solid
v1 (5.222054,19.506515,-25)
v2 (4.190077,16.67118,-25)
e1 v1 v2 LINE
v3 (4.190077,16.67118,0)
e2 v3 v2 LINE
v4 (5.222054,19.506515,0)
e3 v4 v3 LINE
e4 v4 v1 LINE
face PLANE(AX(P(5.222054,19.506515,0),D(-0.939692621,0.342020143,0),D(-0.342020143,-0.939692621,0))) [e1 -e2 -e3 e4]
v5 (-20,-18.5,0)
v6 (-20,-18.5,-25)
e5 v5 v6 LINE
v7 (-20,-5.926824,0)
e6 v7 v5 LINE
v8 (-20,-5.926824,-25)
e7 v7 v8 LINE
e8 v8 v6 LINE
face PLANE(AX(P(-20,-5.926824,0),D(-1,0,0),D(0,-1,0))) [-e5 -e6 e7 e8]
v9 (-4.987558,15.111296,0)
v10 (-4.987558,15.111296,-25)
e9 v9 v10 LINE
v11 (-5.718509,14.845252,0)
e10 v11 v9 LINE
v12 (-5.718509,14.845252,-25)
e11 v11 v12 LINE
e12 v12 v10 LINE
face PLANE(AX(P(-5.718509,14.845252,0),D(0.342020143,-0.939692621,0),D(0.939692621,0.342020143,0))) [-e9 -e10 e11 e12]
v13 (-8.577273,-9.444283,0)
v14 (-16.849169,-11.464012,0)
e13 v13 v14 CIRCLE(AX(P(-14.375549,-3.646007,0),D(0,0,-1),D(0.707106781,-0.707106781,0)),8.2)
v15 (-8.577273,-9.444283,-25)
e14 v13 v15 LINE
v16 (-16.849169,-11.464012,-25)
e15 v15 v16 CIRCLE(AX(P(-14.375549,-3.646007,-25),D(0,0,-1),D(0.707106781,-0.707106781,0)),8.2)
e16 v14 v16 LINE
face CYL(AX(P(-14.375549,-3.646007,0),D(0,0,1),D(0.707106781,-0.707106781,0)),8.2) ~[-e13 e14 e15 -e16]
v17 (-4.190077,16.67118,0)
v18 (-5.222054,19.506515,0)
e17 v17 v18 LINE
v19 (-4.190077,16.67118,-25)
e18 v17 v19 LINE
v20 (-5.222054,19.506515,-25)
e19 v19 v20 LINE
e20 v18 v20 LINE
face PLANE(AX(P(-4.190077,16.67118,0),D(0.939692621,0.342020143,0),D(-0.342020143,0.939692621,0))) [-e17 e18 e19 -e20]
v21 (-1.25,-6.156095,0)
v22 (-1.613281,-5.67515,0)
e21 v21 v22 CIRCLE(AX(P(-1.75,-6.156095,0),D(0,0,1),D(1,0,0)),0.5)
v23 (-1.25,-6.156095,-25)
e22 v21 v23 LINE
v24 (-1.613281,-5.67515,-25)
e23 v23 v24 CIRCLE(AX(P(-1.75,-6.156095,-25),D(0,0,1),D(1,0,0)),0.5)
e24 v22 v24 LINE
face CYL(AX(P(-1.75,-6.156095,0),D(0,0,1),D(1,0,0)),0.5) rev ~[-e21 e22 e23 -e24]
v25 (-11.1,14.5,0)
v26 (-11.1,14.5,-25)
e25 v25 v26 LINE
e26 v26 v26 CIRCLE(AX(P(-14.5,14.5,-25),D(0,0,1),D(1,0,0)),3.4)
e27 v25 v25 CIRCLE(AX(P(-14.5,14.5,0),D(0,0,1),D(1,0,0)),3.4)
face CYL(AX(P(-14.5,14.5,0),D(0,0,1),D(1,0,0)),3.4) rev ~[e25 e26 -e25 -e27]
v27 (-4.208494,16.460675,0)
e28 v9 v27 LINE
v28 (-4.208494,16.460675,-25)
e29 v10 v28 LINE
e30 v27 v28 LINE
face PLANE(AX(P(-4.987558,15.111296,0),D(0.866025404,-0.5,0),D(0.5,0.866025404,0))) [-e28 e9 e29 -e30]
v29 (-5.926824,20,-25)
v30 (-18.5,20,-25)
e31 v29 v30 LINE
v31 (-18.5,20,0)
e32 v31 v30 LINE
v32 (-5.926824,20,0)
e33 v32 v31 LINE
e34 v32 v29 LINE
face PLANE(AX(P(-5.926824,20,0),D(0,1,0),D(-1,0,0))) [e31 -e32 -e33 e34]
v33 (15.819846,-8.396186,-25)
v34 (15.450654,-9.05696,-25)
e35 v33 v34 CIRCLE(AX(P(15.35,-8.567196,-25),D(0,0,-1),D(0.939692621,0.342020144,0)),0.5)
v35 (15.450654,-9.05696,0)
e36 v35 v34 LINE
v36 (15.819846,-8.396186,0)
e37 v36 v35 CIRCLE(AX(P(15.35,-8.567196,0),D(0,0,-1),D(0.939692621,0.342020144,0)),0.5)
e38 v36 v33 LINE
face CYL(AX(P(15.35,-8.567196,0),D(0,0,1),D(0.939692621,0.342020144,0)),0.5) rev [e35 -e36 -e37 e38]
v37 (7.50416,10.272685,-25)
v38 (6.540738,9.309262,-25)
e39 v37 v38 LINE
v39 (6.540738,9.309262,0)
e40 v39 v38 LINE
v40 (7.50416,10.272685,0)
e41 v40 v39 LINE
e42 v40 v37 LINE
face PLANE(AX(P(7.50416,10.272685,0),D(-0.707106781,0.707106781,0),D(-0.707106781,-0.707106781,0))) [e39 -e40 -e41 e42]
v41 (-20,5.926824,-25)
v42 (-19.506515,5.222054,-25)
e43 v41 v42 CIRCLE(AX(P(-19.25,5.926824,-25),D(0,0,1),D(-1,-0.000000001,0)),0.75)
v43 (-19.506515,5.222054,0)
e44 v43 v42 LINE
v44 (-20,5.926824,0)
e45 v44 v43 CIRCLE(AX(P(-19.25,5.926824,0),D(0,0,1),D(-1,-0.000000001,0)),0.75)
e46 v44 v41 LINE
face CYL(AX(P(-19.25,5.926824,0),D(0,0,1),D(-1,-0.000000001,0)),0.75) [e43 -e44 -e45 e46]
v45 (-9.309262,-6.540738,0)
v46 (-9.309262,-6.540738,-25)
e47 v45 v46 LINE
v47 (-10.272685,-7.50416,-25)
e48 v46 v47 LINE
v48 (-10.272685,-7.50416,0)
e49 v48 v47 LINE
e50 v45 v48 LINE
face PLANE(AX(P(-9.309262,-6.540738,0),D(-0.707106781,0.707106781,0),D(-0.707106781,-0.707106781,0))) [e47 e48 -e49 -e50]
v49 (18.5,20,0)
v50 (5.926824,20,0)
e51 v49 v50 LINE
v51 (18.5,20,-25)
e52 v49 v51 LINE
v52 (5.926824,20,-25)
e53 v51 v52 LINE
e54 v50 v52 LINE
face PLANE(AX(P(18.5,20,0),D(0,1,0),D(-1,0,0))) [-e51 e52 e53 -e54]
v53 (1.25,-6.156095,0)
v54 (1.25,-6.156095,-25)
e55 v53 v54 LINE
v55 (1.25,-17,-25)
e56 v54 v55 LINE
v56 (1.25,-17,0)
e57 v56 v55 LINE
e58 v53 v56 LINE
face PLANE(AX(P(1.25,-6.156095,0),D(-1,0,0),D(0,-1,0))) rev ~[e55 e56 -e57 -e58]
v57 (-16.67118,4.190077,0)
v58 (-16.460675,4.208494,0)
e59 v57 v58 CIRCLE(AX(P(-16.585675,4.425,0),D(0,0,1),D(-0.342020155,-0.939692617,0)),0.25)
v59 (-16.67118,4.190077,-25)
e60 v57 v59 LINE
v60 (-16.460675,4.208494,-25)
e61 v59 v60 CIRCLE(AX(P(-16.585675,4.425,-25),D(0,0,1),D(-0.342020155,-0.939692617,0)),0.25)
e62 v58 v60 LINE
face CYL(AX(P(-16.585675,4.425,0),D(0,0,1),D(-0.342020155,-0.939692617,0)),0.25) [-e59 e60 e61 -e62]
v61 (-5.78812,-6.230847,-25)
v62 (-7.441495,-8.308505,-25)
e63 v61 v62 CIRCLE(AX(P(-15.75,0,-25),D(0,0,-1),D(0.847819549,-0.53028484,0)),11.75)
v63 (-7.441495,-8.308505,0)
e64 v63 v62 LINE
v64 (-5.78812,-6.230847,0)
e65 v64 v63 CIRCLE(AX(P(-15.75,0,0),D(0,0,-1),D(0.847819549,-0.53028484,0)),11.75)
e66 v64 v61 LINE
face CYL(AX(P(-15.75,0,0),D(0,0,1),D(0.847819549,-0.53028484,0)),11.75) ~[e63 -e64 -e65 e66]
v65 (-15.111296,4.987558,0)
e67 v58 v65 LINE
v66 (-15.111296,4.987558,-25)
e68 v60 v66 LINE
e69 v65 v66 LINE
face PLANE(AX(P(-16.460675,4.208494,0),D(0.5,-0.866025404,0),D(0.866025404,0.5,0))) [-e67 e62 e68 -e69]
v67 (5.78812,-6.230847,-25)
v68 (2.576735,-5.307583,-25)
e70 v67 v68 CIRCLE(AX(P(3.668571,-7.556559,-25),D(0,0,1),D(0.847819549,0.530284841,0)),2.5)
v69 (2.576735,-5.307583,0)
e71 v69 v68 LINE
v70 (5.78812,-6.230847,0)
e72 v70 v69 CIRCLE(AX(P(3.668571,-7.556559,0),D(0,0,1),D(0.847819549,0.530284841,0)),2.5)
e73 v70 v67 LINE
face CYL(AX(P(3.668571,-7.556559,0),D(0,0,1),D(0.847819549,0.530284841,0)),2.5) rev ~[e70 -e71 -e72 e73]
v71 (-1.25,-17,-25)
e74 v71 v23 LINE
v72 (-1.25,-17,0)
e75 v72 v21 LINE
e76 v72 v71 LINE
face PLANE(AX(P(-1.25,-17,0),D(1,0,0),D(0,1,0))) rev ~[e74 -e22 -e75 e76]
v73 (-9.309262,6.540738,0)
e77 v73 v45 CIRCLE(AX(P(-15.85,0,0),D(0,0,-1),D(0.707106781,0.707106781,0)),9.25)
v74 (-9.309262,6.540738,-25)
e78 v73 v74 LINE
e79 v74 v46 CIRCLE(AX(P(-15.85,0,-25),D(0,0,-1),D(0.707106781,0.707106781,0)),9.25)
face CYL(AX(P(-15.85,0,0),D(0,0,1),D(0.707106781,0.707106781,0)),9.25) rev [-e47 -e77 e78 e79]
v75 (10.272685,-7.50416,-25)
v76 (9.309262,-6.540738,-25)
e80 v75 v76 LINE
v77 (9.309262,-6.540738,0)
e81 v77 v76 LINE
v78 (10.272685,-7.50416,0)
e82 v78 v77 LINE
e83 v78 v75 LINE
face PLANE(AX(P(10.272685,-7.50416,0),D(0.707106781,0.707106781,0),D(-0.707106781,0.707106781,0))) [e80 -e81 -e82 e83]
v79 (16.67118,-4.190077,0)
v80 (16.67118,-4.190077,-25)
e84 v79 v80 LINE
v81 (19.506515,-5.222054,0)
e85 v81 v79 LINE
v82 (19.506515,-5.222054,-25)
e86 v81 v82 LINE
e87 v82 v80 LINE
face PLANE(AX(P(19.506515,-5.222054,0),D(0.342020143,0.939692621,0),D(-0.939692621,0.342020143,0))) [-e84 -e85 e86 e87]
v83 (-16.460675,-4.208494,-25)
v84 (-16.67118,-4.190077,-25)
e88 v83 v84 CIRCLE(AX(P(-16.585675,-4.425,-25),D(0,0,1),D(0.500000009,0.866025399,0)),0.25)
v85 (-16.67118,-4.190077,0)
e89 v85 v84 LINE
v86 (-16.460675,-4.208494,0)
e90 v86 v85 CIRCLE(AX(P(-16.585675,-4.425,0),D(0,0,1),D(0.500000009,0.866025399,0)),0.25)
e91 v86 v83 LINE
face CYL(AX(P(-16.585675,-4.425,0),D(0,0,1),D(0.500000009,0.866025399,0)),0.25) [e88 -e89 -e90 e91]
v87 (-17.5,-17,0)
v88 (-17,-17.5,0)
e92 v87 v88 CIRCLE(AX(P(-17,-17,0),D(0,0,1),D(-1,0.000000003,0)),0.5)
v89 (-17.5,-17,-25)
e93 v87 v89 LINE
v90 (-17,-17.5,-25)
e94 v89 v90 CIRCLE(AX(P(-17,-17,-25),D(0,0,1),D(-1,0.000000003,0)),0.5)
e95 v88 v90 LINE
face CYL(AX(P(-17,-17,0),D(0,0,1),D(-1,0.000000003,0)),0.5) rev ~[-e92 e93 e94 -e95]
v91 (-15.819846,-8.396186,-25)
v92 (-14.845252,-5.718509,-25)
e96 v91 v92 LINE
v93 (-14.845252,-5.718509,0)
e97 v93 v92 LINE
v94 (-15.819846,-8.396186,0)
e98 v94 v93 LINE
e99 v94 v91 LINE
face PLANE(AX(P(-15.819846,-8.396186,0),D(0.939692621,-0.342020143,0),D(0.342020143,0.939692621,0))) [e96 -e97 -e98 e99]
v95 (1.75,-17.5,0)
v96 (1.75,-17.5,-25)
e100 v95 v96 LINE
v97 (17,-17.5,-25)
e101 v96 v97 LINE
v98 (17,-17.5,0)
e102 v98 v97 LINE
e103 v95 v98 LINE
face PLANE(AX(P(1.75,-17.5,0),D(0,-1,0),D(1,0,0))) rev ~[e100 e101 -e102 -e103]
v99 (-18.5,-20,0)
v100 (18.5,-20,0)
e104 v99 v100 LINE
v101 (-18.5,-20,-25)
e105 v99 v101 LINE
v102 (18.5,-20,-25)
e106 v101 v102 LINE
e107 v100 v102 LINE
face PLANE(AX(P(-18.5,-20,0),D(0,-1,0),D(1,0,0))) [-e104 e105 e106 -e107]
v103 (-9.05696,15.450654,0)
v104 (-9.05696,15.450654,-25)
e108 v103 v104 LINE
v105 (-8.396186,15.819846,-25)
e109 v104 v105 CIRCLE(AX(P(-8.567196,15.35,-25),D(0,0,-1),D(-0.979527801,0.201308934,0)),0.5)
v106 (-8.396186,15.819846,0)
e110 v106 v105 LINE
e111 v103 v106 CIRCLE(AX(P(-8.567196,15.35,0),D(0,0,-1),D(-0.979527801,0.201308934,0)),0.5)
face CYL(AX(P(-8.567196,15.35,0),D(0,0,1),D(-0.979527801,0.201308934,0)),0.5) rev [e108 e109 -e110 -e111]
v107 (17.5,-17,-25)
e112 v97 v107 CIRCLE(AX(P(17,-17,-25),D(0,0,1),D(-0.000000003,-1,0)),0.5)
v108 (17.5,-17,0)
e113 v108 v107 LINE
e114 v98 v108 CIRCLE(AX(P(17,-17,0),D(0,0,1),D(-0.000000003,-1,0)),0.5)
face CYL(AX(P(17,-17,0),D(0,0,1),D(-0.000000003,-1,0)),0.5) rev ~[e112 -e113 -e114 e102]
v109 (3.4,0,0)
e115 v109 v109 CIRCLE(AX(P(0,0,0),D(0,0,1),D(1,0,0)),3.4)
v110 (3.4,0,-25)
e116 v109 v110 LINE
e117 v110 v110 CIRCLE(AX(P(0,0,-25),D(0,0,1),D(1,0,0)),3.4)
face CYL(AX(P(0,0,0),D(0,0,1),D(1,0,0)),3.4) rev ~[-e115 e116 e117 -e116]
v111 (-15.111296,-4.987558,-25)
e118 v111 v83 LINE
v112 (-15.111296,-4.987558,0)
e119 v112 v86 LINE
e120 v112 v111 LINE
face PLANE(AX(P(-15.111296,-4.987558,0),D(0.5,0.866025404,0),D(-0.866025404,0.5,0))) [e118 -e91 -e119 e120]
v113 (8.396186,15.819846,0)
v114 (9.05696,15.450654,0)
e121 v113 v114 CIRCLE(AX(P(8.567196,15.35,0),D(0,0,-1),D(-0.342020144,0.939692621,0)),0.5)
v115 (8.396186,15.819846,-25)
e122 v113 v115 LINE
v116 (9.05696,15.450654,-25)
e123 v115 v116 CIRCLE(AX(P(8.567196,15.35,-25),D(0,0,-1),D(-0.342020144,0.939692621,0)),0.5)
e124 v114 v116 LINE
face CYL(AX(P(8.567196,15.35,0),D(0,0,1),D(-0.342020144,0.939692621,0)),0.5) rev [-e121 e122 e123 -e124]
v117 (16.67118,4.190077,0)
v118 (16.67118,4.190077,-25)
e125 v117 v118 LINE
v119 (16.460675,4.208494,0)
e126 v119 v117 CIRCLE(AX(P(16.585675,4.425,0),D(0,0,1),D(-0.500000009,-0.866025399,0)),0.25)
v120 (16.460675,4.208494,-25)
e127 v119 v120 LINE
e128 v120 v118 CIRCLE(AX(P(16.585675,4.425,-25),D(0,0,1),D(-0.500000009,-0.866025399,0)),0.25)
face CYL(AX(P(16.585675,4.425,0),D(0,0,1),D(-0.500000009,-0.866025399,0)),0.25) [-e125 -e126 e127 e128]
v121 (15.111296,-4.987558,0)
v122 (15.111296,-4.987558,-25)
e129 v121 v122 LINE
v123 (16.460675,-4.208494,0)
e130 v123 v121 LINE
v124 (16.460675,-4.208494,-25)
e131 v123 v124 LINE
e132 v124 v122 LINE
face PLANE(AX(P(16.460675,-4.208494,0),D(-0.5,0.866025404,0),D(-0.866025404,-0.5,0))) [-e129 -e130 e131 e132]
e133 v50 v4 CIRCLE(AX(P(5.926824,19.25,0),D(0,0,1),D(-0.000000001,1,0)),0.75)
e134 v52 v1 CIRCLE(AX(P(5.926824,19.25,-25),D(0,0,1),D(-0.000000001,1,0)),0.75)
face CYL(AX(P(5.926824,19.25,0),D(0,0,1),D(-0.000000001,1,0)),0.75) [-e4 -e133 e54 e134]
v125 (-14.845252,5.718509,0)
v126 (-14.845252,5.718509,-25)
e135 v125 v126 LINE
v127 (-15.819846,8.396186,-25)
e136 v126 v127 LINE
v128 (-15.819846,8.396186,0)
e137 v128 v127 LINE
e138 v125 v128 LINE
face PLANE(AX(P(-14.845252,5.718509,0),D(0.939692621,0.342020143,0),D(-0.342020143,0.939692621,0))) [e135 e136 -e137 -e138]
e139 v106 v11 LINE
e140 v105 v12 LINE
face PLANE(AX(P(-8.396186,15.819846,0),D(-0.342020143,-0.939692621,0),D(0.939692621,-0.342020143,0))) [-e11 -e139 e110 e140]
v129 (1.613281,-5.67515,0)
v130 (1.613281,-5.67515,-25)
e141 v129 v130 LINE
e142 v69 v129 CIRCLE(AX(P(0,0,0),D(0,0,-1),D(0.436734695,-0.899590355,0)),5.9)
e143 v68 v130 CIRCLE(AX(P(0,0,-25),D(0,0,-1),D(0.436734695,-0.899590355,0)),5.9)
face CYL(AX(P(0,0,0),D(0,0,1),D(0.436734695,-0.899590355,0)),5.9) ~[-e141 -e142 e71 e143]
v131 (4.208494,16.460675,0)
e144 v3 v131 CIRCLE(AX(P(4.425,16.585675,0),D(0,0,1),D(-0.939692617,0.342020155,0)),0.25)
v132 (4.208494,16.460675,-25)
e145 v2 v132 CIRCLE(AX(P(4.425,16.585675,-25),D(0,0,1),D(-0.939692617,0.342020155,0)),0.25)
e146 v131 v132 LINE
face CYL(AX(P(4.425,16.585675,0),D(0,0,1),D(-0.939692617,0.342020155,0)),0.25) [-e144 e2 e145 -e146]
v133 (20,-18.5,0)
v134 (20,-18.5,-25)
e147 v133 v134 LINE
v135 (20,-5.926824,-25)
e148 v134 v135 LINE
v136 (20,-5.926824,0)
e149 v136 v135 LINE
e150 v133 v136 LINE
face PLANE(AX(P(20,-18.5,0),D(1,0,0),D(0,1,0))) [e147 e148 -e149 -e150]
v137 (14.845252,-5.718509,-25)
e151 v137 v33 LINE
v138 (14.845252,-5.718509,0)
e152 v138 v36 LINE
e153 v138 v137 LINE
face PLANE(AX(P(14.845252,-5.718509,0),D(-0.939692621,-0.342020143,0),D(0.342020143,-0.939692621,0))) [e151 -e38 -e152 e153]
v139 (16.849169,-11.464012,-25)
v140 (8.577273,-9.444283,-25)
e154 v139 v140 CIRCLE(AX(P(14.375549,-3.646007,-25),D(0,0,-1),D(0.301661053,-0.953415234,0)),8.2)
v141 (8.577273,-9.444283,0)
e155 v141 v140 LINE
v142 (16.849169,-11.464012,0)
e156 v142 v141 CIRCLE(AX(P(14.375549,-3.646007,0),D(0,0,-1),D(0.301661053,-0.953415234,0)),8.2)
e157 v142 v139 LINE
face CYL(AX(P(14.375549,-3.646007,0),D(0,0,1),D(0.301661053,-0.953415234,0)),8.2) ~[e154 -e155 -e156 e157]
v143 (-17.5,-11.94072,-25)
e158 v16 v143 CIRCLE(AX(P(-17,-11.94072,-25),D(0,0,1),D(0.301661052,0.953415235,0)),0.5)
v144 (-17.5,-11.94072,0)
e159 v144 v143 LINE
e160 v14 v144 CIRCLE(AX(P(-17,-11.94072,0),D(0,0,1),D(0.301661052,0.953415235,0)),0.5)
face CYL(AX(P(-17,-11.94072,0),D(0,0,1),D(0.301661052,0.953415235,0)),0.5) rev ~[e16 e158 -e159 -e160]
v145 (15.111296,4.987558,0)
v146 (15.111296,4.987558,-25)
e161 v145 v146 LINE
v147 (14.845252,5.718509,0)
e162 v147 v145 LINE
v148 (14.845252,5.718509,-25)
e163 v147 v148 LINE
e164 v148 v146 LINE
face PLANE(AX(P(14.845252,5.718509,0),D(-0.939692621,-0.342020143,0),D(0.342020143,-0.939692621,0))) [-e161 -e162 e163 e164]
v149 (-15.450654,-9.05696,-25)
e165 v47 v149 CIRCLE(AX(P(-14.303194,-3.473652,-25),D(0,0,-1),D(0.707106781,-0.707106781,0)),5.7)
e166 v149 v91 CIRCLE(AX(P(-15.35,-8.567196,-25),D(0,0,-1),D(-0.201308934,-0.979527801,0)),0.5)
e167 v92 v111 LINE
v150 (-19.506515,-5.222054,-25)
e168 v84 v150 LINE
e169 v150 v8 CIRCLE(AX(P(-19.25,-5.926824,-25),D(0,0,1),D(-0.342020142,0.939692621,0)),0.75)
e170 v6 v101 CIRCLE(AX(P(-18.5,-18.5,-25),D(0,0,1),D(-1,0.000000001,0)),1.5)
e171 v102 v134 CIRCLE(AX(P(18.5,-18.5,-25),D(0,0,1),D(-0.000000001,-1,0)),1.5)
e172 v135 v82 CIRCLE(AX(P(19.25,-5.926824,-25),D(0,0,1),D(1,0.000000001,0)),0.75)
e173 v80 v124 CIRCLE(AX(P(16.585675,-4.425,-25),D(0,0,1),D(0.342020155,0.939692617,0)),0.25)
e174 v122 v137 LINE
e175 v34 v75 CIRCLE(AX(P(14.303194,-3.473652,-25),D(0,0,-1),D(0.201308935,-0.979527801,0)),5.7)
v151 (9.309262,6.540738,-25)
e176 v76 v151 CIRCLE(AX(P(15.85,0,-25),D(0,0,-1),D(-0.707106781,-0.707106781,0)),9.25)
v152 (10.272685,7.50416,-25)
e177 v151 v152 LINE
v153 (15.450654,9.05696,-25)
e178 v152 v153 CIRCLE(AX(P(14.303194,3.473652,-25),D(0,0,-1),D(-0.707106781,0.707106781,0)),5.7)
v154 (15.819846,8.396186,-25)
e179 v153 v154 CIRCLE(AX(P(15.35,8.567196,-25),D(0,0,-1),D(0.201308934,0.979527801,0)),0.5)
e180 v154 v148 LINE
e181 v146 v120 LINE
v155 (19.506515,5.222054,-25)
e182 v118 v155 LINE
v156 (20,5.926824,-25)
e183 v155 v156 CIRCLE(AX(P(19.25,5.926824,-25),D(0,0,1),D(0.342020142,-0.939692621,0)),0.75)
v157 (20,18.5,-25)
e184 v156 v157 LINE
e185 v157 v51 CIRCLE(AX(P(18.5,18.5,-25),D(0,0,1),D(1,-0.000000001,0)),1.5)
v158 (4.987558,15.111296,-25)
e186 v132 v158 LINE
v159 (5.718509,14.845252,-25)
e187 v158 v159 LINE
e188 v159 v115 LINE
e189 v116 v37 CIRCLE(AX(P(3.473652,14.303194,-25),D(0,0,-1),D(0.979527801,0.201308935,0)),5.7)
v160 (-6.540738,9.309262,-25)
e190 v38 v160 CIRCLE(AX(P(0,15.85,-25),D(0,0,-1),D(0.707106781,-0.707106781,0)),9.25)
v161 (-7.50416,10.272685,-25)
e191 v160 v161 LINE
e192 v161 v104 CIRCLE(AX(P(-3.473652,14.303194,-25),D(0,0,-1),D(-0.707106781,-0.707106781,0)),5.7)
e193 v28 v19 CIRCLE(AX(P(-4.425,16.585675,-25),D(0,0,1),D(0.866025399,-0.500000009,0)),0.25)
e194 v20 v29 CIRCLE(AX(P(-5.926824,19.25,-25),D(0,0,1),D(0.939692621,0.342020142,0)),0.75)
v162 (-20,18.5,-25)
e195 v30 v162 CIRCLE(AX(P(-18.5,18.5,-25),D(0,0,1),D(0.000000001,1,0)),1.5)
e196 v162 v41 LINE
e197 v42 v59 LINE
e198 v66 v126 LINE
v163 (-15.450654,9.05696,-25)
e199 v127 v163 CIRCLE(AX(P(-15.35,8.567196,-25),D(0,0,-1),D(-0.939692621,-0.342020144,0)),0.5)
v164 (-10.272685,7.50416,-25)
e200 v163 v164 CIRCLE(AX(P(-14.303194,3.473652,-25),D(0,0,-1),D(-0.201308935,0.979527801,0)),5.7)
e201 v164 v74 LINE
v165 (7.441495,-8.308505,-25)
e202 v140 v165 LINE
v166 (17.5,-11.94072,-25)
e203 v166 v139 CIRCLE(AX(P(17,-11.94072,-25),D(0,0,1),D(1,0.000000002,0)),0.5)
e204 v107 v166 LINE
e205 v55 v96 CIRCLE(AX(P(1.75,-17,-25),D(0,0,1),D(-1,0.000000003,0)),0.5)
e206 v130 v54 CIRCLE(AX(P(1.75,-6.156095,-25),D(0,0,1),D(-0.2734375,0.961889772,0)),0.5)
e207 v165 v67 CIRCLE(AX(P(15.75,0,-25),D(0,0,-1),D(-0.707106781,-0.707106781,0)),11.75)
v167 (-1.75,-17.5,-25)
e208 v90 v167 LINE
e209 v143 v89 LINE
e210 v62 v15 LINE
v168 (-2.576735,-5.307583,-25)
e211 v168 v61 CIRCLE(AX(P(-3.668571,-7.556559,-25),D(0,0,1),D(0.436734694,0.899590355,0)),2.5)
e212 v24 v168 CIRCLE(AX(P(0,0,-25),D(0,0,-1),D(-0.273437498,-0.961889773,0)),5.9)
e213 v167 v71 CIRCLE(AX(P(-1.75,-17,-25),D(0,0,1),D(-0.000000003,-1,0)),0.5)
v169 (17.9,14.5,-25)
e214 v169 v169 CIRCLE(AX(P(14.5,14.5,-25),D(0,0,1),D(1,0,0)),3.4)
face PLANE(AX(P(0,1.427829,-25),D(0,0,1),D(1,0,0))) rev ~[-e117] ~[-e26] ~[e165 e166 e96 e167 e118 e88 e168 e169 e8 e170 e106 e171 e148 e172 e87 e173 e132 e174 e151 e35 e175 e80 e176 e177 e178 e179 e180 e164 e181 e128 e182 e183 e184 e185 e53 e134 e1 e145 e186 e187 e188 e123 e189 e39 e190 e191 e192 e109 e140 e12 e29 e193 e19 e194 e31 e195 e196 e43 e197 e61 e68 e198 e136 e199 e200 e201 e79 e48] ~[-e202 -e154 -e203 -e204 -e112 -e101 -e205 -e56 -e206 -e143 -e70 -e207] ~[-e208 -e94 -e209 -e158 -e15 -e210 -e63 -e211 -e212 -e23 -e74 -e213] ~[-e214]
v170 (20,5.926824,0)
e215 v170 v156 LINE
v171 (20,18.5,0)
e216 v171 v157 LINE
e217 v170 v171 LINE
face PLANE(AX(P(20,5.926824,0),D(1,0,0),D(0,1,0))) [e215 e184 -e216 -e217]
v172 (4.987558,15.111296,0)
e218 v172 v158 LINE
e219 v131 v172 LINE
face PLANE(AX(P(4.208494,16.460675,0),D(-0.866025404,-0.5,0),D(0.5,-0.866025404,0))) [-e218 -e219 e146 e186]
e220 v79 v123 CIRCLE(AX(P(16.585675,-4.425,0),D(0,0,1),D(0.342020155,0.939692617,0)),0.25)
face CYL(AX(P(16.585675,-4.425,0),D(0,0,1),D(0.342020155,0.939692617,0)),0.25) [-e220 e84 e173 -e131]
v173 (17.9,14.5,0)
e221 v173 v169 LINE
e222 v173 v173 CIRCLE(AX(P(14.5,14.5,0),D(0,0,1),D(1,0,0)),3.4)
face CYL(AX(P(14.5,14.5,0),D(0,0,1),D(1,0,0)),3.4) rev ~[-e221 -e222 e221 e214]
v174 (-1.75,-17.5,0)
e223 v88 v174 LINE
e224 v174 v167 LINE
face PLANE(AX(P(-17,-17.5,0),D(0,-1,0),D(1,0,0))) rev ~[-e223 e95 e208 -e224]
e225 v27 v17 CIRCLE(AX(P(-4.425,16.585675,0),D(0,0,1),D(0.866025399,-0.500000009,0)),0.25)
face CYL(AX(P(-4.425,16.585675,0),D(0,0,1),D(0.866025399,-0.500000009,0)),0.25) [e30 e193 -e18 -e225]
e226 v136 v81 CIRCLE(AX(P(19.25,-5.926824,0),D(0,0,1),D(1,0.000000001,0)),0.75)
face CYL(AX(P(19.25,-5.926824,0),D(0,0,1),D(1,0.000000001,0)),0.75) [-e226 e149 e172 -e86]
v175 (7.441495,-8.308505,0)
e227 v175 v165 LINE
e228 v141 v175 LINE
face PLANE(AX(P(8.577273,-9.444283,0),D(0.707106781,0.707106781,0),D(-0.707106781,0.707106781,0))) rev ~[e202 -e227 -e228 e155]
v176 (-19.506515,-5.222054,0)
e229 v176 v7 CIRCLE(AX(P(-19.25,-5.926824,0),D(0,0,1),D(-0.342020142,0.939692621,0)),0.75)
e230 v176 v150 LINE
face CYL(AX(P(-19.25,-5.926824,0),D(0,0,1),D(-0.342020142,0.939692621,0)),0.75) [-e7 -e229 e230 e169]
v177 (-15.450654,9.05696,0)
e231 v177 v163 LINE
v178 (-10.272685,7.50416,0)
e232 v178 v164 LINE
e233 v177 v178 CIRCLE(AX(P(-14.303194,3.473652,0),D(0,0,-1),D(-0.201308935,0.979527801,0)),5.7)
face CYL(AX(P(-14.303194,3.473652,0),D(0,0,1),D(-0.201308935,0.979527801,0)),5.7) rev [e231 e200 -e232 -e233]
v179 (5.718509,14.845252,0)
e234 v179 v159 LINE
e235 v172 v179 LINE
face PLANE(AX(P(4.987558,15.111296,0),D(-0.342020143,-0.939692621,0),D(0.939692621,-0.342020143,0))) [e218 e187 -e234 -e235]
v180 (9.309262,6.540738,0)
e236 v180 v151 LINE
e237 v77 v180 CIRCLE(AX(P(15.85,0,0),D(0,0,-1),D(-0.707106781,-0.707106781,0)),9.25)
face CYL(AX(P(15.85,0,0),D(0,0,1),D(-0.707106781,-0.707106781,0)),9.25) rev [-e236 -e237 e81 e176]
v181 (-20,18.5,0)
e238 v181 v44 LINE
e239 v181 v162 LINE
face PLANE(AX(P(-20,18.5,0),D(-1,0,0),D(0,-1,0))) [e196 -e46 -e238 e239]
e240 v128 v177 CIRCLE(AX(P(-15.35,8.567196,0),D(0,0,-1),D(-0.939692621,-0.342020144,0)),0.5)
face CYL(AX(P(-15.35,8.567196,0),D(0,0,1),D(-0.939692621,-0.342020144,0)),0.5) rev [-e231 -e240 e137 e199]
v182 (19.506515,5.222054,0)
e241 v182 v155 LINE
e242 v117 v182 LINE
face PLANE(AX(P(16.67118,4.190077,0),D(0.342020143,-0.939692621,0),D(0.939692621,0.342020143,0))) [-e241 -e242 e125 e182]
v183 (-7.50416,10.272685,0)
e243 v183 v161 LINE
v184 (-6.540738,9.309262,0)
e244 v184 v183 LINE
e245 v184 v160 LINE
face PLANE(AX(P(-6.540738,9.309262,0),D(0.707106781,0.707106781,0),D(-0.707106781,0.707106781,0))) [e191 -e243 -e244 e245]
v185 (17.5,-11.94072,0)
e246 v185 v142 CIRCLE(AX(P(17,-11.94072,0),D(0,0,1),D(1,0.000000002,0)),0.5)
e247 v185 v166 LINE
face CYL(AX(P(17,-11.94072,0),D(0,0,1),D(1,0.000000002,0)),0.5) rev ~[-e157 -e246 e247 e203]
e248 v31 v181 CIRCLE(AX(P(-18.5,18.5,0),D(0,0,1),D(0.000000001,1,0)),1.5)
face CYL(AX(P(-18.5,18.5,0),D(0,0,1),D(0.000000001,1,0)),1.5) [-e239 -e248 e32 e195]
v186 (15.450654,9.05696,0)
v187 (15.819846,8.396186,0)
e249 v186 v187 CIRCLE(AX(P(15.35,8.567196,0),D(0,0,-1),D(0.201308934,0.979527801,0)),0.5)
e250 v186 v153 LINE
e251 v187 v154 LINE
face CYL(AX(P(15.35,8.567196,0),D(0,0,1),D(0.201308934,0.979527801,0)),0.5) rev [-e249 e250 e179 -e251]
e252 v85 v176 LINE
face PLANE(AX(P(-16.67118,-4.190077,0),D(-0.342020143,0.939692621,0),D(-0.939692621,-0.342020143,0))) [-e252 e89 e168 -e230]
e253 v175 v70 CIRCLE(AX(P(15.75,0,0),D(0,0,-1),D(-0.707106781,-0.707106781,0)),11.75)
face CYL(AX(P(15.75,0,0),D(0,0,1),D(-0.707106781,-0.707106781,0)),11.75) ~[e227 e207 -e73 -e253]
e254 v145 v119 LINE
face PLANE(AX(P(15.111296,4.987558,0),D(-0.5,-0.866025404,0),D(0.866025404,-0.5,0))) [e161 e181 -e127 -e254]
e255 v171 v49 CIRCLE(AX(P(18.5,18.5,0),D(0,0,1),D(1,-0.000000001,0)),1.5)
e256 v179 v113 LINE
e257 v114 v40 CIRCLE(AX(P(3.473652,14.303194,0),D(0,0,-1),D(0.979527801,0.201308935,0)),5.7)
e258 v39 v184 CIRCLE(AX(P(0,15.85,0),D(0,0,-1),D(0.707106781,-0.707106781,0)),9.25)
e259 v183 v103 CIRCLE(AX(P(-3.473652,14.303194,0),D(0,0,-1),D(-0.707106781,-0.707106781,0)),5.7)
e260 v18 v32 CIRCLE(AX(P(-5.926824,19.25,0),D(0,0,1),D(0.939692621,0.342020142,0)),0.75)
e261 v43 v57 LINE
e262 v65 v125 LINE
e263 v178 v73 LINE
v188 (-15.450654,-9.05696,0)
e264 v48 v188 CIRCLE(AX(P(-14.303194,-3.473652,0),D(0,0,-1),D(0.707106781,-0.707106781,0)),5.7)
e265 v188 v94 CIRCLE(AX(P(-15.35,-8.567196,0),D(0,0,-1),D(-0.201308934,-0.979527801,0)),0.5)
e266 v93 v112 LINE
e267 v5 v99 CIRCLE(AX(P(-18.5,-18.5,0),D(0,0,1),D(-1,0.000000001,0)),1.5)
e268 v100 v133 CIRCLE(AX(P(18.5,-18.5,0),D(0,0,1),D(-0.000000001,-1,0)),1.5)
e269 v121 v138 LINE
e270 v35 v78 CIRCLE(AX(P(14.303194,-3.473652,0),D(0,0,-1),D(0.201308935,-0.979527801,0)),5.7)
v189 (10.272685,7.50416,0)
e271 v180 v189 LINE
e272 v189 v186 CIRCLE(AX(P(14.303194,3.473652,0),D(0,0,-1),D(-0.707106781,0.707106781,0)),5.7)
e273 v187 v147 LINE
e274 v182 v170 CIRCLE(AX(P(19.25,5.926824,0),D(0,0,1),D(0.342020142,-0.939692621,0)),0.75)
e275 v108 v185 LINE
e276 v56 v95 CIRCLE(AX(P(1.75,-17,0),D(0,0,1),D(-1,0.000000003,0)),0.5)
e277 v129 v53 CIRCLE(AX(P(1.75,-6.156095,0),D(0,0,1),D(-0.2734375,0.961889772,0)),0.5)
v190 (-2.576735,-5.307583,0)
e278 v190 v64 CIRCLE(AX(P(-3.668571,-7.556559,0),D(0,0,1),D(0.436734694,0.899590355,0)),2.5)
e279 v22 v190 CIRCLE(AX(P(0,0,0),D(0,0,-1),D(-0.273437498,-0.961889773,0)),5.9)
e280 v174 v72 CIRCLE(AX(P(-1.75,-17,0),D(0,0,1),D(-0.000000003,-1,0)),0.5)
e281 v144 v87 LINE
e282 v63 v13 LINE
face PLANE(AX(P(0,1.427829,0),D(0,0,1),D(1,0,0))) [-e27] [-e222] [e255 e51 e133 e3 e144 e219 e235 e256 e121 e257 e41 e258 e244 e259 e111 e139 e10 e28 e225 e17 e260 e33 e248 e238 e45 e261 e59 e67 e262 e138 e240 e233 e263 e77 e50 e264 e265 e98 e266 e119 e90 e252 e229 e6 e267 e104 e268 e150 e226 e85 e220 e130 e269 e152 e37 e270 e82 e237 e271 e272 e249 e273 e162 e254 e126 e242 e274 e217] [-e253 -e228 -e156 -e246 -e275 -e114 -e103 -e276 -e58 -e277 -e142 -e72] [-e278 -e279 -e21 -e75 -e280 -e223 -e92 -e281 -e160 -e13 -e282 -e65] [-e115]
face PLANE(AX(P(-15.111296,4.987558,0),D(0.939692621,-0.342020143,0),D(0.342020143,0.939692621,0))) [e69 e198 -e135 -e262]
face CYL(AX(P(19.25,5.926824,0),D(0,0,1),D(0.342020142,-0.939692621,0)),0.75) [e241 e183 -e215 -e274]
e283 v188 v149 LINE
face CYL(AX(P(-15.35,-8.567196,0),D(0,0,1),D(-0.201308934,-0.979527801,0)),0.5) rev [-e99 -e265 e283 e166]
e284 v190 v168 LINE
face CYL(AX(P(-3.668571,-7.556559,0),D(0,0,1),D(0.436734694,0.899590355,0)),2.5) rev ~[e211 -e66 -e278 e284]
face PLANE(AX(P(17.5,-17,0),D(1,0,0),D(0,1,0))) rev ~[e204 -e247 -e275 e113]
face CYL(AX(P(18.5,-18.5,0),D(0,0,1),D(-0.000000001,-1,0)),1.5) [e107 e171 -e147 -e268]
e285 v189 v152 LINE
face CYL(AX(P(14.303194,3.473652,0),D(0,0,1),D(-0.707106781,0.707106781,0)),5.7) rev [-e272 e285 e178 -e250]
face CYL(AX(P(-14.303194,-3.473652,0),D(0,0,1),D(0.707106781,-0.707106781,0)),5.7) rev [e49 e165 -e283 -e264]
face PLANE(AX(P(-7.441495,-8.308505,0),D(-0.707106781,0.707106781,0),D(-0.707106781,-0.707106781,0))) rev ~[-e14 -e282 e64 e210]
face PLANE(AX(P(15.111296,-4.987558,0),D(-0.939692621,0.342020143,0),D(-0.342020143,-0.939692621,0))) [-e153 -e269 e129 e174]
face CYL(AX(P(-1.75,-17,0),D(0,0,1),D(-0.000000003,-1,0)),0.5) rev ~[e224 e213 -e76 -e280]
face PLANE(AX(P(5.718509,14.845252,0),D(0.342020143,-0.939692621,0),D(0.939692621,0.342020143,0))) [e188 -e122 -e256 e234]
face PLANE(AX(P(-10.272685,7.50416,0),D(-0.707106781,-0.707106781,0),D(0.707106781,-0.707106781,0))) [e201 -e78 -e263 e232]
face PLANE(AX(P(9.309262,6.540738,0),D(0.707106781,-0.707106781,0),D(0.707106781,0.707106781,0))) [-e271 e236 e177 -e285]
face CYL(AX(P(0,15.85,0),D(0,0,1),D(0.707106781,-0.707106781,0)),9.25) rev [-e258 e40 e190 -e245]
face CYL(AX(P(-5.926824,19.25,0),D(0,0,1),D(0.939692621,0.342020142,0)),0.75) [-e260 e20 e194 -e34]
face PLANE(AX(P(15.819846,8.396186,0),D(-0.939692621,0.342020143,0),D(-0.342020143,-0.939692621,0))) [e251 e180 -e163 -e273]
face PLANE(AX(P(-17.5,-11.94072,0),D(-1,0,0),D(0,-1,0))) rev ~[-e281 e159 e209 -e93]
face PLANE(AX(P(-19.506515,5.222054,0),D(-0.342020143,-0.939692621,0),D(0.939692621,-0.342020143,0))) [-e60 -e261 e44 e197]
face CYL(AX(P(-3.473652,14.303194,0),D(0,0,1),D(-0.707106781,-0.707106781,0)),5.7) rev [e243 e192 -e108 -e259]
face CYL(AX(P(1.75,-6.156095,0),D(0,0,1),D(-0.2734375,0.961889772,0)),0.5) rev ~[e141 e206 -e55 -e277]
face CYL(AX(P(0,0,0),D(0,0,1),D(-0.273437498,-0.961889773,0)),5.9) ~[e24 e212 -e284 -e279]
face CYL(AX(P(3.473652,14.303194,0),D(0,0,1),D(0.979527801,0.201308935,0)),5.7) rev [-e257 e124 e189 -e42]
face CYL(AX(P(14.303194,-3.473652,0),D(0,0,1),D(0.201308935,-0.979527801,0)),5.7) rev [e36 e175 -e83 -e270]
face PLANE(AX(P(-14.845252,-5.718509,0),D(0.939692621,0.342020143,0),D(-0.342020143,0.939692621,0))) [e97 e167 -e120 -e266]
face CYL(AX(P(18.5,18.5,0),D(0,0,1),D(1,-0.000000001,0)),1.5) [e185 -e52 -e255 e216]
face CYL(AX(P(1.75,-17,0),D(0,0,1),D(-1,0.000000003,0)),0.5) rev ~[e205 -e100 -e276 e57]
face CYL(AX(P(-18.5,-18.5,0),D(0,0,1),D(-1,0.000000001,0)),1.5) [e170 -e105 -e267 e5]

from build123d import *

# Parameters (mm, degrees)
SK_MAIN_EXTRUSION_R  = 3.4
MAIN_EXTRUSION_DEPTH = 25


with BuildPart() as part:
    # Sk Main Extrusion → Main Extrusion (new body)
    with BuildSketch(Plane.XY):
        with BuildLine():
            Line((-16.671180212, -4.190076845), (-19.506515107, -5.222054351))
            ThreePointArc((-19.506515107, -5.222054351), (-19.864364033, -5.496641489), (-20, -5.926823816))
            Line((-20, -5.926823816), (-20, -18.5))
            ThreePointArc((-20, -18.5), (-19.560660172, -19.560660172), (-18.5, -20))
            Line((-18.5, -20), (18.5, -20))
            ThreePointArc((18.5, -20), (19.560660172, -19.560660172), (20, -18.5))
            Line((20, -18.5), (20, -5.926823816))
            ThreePointArc((20, -5.926823816), (19.864364033, -5.496641489), (19.506515107, -5.222054351))
            Line((19.506515107, -5.222054351), (16.671180212, -4.190076845))
            ThreePointArc((16.671180212, -4.190076845), (16.563886241, -4.175951325), (16.460675177, -4.208493649))
            Line((16.460675177, -4.208493649), (15.111296024, -4.987558066))
            Line((15.111296024, -4.987558066), (14.845251581, -5.718509166))
            Line((14.845251581, -5.718509166), (15.81984631, -8.396186179))
            ThreePointArc((15.81984631, -8.396186179), (15.786489799, -8.811074612), (15.450654467, -9.056960151))
            ThreePointArc((15.450654467, -9.056960151), (12.665882372, -8.933433013), (10.272684887, -7.504160339))
            Line((10.272684887, -7.504160339), (9.309262274, -6.540737726))
            ThreePointArc((9.309262274, -6.540737726), (6.6, 0), (9.309262274, 6.540737726))
            Line((9.309262274, 6.540737726), (10.272684887, 7.504160339))
            ThreePointArc((10.272684887, 7.504160339), (12.665882372, 8.933433013), (15.450654467, 9.056960151))
            ThreePointArc((15.450654467, 9.056960151), (15.786489799, 8.811074612), (15.81984631, 8.396186179))
            Line((15.81984631, 8.396186179), (14.845251581, 5.718509166))
            Line((14.845251581, 5.718509166), (15.111296024, 4.987558066))
            Line((15.111296024, 4.987558066), (16.460675177, 4.208493649))
            ThreePointArc((16.460675177, 4.208493649), (16.563886241, 4.175951325), (16.671180212, 4.190076845))
            Line((16.671180212, 4.190076845), (19.506515107, 5.222054351))
            ThreePointArc((19.506515107, 5.222054351), (19.864364033, 5.496641489), (20, 5.926823816))
            Line((20, 5.926823816), (20, 18.5))
            ThreePointArc((20, 18.5), (19.560660172, 19.560660172), (18.5, 20))
            Line((18.5, 20), (5.926823816, 20))
            ThreePointArc((5.926823816, 20), (5.496641489, 19.864364033), (5.222054351, 19.506515107))
            Line((5.222054351, 19.506515107), (4.190076845, 16.671180212))
            ThreePointArc((4.190076845, 16.671180212), (4.175951325, 16.563886241), (4.208493649, 16.460675177))
            Line((4.208493649, 16.460675177), (4.987558066, 15.111296024))
            Line((4.987558066, 15.111296024), (5.718509166, 14.845251581))
            Line((5.718509166, 14.845251581), (8.396186179, 15.81984631))
            ThreePointArc((8.396186179, 15.81984631), (8.811074612, 15.786489799), (9.056960151, 15.450654467))
            ThreePointArc((9.056960151, 15.450654467), (8.933433013, 12.665882372), (7.504160339, 10.272684887))
            Line((7.504160339, 10.272684887), (6.540737726, 9.309262274))
            ThreePointArc((6.540737726, 9.309262274), (0, 6.6), (-6.540737726, 9.309262274))
            Line((-6.540737726, 9.309262274), (-7.504160339, 10.272684887))
            ThreePointArc((-7.504160339, 10.272684887), (-8.933433013, 12.665882372), (-9.056960151, 15.450654467))
            ThreePointArc((-9.056960151, 15.450654467), (-8.811074612, 15.786489799), (-8.396186179, 15.81984631))
            Line((-8.396186179, 15.81984631), (-5.718509166, 14.845251581))
            Line((-5.718509166, 14.845251581), (-4.987558066, 15.111296024))
            Line((-4.987558066, 15.111296024), (-4.208493649, 16.460675177))
            ThreePointArc((-4.208493649, 16.460675177), (-4.175951325, 16.563886241), (-4.190076845, 16.671180212))
            Line((-4.190076845, 16.671180212), (-5.222054351, 19.506515107))
            ThreePointArc((-5.222054351, 19.506515107), (-5.496641489, 19.864364033), (-5.926823816, 20))
            Line((-5.926823816, 20), (-18.5, 20))
            ThreePointArc((-18.5, 20), (-19.560660172, 19.560660172), (-20, 18.5))
            Line((-20, 18.5), (-20, 5.926823816))
            ThreePointArc((-20, 5.926823816), (-19.864364033, 5.496641489), (-19.506515107, 5.222054351))
            Line((-19.506515107, 5.222054351), (-16.671180212, 4.190076845))
            ThreePointArc((-16.671180212, 4.190076845), (-16.563886241, 4.175951325), (-16.460675177, 4.208493649))
            Line((-16.460675177, 4.208493649), (-15.111296024, 4.987558066))
            Line((-15.111296024, 4.987558066), (-14.845251581, 5.718509166))
            Line((-14.845251581, 5.718509166), (-15.81984631, 8.396186179))
            ThreePointArc((-15.81984631, 8.396186179), (-15.786489799, 8.811074612), (-15.450654467, 9.056960151))
            ThreePointArc((-15.450654467, 9.056960151), (-12.665882372, 8.933433013), (-10.272684887, 7.504160339))
            Line((-10.272684887, 7.504160339), (-9.309262274, 6.540737726))
            ThreePointArc((-9.309262274, 6.540737726), (-6.6, 0), (-9.309262274, -6.540737726))
            Line((-9.309262274, -6.540737726), (-10.272684887, -7.504160339))
            ThreePointArc((-10.272684887, -7.504160339), (-12.665882372, -8.933433013), (-15.450654467, -9.056960151))
            ThreePointArc((-15.450654467, -9.056960151), (-15.786489799, -8.811074612), (-15.81984631, -8.396186179))
            Line((-15.81984631, -8.396186179), (-14.845251581, -5.718509166))
            Line((-14.845251581, -5.718509166), (-15.111296024, -4.987558066))
            Line((-15.111296024, -4.987558066), (-16.460675177, -4.208493649))
            ThreePointArc((-16.460675177, -4.208493649), (-16.563886241, -4.175951325), (-16.671180212, -4.190076845))
        make_face()
        with Locations((14.5, 14.5)):
            Circle(SK_MAIN_EXTRUSION_R, mode=Mode.SUBTRACT)
        Circle(SK_MAIN_EXTRUSION_R, mode=Mode.SUBTRACT)
        with Locations((-14.5, 14.5)):
            Circle(SK_MAIN_EXTRUSION_R, mode=Mode.SUBTRACT)
        with BuildLine():
            Line((-7.441495321, -8.308504679), (-8.577273231, -9.444282589))
            ThreePointArc((-8.577273231, -9.444282589), (-12.430514315, -11.611987193), (-16.849169473, -11.464011904))
            ThreePointArc((-16.849169473, -11.464011904), (-17.295452819, -11.537349181), (-17.5, -11.940719521))
            Line((-17.5, -11.940719521), (-17.5, -17))
            ThreePointArc((-17.5, -17), (-17.353553391, -17.353553391), (-17, -17.5))
            Line((-17, -17.5), (-1.75, -17.5))
            ThreePointArc((-1.75, -17.5), (-1.396446609, -17.353553391), (-1.25, -17))
            Line((-1.25, -17), (-1.25, -6.156094541))
            ThreePointArc((-1.25, -6.156094541), (-1.351026708, -5.854730455), (-1.61328125, -5.675149655))
            ThreePointArc((-1.61328125, -5.675149655), (-2.10305366, -5.51245547), (-2.576734694, -5.307583096))
            ThreePointArc((-2.576734694, -5.307583096), (-4.359333373, -5.153883821), (-5.788120301, -6.230846881))
            ThreePointArc((-5.788120301, -6.230846881), (-6.555931161, -7.316529108), (-7.441495321, -8.308504679))
        make_face(mode=Mode.SUBTRACT)
        with BuildLine():
            Line((1.25, -6.156094541), (1.25, -17))
            ThreePointArc((1.25, -17), (1.396446609, -17.353553391), (1.75, -17.5))
            Line((1.75, -17.5), (17, -17.5))
            ThreePointArc((17, -17.5), (17.353553391, -17.353553391), (17.5, -17))
            Line((17.5, -17), (17.5, -11.940719521))
            ThreePointArc((17.5, -11.940719521), (17.295452819, -11.537349181), (16.849169473, -11.464011904))
            ThreePointArc((16.849169473, -11.464011904), (12.430514315, -11.611987193), (8.577273231, -9.444282589))
            Line((8.577273231, -9.444282589), (7.441495321, -8.308504679))
            ThreePointArc((7.441495321, -8.308504679), (6.555931161, -7.316529108), (5.788120301, -6.230846881))
            ThreePointArc((5.788120301, -6.230846881), (4.359333373, -5.153883821), (2.576734694, -5.307583096))
            ThreePointArc((2.576734694, -5.307583096), (2.10305366, -5.51245547), (1.61328125, -5.675149655))
            ThreePointArc((1.61328125, -5.675149655), (1.351026708, -5.854730455), (1.25, -6.156094541))
        make_face(mode=Mode.SUBTRACT)
    extrude(amount=-MAIN_EXTRUSION_DEPTH)


solid = part.part
